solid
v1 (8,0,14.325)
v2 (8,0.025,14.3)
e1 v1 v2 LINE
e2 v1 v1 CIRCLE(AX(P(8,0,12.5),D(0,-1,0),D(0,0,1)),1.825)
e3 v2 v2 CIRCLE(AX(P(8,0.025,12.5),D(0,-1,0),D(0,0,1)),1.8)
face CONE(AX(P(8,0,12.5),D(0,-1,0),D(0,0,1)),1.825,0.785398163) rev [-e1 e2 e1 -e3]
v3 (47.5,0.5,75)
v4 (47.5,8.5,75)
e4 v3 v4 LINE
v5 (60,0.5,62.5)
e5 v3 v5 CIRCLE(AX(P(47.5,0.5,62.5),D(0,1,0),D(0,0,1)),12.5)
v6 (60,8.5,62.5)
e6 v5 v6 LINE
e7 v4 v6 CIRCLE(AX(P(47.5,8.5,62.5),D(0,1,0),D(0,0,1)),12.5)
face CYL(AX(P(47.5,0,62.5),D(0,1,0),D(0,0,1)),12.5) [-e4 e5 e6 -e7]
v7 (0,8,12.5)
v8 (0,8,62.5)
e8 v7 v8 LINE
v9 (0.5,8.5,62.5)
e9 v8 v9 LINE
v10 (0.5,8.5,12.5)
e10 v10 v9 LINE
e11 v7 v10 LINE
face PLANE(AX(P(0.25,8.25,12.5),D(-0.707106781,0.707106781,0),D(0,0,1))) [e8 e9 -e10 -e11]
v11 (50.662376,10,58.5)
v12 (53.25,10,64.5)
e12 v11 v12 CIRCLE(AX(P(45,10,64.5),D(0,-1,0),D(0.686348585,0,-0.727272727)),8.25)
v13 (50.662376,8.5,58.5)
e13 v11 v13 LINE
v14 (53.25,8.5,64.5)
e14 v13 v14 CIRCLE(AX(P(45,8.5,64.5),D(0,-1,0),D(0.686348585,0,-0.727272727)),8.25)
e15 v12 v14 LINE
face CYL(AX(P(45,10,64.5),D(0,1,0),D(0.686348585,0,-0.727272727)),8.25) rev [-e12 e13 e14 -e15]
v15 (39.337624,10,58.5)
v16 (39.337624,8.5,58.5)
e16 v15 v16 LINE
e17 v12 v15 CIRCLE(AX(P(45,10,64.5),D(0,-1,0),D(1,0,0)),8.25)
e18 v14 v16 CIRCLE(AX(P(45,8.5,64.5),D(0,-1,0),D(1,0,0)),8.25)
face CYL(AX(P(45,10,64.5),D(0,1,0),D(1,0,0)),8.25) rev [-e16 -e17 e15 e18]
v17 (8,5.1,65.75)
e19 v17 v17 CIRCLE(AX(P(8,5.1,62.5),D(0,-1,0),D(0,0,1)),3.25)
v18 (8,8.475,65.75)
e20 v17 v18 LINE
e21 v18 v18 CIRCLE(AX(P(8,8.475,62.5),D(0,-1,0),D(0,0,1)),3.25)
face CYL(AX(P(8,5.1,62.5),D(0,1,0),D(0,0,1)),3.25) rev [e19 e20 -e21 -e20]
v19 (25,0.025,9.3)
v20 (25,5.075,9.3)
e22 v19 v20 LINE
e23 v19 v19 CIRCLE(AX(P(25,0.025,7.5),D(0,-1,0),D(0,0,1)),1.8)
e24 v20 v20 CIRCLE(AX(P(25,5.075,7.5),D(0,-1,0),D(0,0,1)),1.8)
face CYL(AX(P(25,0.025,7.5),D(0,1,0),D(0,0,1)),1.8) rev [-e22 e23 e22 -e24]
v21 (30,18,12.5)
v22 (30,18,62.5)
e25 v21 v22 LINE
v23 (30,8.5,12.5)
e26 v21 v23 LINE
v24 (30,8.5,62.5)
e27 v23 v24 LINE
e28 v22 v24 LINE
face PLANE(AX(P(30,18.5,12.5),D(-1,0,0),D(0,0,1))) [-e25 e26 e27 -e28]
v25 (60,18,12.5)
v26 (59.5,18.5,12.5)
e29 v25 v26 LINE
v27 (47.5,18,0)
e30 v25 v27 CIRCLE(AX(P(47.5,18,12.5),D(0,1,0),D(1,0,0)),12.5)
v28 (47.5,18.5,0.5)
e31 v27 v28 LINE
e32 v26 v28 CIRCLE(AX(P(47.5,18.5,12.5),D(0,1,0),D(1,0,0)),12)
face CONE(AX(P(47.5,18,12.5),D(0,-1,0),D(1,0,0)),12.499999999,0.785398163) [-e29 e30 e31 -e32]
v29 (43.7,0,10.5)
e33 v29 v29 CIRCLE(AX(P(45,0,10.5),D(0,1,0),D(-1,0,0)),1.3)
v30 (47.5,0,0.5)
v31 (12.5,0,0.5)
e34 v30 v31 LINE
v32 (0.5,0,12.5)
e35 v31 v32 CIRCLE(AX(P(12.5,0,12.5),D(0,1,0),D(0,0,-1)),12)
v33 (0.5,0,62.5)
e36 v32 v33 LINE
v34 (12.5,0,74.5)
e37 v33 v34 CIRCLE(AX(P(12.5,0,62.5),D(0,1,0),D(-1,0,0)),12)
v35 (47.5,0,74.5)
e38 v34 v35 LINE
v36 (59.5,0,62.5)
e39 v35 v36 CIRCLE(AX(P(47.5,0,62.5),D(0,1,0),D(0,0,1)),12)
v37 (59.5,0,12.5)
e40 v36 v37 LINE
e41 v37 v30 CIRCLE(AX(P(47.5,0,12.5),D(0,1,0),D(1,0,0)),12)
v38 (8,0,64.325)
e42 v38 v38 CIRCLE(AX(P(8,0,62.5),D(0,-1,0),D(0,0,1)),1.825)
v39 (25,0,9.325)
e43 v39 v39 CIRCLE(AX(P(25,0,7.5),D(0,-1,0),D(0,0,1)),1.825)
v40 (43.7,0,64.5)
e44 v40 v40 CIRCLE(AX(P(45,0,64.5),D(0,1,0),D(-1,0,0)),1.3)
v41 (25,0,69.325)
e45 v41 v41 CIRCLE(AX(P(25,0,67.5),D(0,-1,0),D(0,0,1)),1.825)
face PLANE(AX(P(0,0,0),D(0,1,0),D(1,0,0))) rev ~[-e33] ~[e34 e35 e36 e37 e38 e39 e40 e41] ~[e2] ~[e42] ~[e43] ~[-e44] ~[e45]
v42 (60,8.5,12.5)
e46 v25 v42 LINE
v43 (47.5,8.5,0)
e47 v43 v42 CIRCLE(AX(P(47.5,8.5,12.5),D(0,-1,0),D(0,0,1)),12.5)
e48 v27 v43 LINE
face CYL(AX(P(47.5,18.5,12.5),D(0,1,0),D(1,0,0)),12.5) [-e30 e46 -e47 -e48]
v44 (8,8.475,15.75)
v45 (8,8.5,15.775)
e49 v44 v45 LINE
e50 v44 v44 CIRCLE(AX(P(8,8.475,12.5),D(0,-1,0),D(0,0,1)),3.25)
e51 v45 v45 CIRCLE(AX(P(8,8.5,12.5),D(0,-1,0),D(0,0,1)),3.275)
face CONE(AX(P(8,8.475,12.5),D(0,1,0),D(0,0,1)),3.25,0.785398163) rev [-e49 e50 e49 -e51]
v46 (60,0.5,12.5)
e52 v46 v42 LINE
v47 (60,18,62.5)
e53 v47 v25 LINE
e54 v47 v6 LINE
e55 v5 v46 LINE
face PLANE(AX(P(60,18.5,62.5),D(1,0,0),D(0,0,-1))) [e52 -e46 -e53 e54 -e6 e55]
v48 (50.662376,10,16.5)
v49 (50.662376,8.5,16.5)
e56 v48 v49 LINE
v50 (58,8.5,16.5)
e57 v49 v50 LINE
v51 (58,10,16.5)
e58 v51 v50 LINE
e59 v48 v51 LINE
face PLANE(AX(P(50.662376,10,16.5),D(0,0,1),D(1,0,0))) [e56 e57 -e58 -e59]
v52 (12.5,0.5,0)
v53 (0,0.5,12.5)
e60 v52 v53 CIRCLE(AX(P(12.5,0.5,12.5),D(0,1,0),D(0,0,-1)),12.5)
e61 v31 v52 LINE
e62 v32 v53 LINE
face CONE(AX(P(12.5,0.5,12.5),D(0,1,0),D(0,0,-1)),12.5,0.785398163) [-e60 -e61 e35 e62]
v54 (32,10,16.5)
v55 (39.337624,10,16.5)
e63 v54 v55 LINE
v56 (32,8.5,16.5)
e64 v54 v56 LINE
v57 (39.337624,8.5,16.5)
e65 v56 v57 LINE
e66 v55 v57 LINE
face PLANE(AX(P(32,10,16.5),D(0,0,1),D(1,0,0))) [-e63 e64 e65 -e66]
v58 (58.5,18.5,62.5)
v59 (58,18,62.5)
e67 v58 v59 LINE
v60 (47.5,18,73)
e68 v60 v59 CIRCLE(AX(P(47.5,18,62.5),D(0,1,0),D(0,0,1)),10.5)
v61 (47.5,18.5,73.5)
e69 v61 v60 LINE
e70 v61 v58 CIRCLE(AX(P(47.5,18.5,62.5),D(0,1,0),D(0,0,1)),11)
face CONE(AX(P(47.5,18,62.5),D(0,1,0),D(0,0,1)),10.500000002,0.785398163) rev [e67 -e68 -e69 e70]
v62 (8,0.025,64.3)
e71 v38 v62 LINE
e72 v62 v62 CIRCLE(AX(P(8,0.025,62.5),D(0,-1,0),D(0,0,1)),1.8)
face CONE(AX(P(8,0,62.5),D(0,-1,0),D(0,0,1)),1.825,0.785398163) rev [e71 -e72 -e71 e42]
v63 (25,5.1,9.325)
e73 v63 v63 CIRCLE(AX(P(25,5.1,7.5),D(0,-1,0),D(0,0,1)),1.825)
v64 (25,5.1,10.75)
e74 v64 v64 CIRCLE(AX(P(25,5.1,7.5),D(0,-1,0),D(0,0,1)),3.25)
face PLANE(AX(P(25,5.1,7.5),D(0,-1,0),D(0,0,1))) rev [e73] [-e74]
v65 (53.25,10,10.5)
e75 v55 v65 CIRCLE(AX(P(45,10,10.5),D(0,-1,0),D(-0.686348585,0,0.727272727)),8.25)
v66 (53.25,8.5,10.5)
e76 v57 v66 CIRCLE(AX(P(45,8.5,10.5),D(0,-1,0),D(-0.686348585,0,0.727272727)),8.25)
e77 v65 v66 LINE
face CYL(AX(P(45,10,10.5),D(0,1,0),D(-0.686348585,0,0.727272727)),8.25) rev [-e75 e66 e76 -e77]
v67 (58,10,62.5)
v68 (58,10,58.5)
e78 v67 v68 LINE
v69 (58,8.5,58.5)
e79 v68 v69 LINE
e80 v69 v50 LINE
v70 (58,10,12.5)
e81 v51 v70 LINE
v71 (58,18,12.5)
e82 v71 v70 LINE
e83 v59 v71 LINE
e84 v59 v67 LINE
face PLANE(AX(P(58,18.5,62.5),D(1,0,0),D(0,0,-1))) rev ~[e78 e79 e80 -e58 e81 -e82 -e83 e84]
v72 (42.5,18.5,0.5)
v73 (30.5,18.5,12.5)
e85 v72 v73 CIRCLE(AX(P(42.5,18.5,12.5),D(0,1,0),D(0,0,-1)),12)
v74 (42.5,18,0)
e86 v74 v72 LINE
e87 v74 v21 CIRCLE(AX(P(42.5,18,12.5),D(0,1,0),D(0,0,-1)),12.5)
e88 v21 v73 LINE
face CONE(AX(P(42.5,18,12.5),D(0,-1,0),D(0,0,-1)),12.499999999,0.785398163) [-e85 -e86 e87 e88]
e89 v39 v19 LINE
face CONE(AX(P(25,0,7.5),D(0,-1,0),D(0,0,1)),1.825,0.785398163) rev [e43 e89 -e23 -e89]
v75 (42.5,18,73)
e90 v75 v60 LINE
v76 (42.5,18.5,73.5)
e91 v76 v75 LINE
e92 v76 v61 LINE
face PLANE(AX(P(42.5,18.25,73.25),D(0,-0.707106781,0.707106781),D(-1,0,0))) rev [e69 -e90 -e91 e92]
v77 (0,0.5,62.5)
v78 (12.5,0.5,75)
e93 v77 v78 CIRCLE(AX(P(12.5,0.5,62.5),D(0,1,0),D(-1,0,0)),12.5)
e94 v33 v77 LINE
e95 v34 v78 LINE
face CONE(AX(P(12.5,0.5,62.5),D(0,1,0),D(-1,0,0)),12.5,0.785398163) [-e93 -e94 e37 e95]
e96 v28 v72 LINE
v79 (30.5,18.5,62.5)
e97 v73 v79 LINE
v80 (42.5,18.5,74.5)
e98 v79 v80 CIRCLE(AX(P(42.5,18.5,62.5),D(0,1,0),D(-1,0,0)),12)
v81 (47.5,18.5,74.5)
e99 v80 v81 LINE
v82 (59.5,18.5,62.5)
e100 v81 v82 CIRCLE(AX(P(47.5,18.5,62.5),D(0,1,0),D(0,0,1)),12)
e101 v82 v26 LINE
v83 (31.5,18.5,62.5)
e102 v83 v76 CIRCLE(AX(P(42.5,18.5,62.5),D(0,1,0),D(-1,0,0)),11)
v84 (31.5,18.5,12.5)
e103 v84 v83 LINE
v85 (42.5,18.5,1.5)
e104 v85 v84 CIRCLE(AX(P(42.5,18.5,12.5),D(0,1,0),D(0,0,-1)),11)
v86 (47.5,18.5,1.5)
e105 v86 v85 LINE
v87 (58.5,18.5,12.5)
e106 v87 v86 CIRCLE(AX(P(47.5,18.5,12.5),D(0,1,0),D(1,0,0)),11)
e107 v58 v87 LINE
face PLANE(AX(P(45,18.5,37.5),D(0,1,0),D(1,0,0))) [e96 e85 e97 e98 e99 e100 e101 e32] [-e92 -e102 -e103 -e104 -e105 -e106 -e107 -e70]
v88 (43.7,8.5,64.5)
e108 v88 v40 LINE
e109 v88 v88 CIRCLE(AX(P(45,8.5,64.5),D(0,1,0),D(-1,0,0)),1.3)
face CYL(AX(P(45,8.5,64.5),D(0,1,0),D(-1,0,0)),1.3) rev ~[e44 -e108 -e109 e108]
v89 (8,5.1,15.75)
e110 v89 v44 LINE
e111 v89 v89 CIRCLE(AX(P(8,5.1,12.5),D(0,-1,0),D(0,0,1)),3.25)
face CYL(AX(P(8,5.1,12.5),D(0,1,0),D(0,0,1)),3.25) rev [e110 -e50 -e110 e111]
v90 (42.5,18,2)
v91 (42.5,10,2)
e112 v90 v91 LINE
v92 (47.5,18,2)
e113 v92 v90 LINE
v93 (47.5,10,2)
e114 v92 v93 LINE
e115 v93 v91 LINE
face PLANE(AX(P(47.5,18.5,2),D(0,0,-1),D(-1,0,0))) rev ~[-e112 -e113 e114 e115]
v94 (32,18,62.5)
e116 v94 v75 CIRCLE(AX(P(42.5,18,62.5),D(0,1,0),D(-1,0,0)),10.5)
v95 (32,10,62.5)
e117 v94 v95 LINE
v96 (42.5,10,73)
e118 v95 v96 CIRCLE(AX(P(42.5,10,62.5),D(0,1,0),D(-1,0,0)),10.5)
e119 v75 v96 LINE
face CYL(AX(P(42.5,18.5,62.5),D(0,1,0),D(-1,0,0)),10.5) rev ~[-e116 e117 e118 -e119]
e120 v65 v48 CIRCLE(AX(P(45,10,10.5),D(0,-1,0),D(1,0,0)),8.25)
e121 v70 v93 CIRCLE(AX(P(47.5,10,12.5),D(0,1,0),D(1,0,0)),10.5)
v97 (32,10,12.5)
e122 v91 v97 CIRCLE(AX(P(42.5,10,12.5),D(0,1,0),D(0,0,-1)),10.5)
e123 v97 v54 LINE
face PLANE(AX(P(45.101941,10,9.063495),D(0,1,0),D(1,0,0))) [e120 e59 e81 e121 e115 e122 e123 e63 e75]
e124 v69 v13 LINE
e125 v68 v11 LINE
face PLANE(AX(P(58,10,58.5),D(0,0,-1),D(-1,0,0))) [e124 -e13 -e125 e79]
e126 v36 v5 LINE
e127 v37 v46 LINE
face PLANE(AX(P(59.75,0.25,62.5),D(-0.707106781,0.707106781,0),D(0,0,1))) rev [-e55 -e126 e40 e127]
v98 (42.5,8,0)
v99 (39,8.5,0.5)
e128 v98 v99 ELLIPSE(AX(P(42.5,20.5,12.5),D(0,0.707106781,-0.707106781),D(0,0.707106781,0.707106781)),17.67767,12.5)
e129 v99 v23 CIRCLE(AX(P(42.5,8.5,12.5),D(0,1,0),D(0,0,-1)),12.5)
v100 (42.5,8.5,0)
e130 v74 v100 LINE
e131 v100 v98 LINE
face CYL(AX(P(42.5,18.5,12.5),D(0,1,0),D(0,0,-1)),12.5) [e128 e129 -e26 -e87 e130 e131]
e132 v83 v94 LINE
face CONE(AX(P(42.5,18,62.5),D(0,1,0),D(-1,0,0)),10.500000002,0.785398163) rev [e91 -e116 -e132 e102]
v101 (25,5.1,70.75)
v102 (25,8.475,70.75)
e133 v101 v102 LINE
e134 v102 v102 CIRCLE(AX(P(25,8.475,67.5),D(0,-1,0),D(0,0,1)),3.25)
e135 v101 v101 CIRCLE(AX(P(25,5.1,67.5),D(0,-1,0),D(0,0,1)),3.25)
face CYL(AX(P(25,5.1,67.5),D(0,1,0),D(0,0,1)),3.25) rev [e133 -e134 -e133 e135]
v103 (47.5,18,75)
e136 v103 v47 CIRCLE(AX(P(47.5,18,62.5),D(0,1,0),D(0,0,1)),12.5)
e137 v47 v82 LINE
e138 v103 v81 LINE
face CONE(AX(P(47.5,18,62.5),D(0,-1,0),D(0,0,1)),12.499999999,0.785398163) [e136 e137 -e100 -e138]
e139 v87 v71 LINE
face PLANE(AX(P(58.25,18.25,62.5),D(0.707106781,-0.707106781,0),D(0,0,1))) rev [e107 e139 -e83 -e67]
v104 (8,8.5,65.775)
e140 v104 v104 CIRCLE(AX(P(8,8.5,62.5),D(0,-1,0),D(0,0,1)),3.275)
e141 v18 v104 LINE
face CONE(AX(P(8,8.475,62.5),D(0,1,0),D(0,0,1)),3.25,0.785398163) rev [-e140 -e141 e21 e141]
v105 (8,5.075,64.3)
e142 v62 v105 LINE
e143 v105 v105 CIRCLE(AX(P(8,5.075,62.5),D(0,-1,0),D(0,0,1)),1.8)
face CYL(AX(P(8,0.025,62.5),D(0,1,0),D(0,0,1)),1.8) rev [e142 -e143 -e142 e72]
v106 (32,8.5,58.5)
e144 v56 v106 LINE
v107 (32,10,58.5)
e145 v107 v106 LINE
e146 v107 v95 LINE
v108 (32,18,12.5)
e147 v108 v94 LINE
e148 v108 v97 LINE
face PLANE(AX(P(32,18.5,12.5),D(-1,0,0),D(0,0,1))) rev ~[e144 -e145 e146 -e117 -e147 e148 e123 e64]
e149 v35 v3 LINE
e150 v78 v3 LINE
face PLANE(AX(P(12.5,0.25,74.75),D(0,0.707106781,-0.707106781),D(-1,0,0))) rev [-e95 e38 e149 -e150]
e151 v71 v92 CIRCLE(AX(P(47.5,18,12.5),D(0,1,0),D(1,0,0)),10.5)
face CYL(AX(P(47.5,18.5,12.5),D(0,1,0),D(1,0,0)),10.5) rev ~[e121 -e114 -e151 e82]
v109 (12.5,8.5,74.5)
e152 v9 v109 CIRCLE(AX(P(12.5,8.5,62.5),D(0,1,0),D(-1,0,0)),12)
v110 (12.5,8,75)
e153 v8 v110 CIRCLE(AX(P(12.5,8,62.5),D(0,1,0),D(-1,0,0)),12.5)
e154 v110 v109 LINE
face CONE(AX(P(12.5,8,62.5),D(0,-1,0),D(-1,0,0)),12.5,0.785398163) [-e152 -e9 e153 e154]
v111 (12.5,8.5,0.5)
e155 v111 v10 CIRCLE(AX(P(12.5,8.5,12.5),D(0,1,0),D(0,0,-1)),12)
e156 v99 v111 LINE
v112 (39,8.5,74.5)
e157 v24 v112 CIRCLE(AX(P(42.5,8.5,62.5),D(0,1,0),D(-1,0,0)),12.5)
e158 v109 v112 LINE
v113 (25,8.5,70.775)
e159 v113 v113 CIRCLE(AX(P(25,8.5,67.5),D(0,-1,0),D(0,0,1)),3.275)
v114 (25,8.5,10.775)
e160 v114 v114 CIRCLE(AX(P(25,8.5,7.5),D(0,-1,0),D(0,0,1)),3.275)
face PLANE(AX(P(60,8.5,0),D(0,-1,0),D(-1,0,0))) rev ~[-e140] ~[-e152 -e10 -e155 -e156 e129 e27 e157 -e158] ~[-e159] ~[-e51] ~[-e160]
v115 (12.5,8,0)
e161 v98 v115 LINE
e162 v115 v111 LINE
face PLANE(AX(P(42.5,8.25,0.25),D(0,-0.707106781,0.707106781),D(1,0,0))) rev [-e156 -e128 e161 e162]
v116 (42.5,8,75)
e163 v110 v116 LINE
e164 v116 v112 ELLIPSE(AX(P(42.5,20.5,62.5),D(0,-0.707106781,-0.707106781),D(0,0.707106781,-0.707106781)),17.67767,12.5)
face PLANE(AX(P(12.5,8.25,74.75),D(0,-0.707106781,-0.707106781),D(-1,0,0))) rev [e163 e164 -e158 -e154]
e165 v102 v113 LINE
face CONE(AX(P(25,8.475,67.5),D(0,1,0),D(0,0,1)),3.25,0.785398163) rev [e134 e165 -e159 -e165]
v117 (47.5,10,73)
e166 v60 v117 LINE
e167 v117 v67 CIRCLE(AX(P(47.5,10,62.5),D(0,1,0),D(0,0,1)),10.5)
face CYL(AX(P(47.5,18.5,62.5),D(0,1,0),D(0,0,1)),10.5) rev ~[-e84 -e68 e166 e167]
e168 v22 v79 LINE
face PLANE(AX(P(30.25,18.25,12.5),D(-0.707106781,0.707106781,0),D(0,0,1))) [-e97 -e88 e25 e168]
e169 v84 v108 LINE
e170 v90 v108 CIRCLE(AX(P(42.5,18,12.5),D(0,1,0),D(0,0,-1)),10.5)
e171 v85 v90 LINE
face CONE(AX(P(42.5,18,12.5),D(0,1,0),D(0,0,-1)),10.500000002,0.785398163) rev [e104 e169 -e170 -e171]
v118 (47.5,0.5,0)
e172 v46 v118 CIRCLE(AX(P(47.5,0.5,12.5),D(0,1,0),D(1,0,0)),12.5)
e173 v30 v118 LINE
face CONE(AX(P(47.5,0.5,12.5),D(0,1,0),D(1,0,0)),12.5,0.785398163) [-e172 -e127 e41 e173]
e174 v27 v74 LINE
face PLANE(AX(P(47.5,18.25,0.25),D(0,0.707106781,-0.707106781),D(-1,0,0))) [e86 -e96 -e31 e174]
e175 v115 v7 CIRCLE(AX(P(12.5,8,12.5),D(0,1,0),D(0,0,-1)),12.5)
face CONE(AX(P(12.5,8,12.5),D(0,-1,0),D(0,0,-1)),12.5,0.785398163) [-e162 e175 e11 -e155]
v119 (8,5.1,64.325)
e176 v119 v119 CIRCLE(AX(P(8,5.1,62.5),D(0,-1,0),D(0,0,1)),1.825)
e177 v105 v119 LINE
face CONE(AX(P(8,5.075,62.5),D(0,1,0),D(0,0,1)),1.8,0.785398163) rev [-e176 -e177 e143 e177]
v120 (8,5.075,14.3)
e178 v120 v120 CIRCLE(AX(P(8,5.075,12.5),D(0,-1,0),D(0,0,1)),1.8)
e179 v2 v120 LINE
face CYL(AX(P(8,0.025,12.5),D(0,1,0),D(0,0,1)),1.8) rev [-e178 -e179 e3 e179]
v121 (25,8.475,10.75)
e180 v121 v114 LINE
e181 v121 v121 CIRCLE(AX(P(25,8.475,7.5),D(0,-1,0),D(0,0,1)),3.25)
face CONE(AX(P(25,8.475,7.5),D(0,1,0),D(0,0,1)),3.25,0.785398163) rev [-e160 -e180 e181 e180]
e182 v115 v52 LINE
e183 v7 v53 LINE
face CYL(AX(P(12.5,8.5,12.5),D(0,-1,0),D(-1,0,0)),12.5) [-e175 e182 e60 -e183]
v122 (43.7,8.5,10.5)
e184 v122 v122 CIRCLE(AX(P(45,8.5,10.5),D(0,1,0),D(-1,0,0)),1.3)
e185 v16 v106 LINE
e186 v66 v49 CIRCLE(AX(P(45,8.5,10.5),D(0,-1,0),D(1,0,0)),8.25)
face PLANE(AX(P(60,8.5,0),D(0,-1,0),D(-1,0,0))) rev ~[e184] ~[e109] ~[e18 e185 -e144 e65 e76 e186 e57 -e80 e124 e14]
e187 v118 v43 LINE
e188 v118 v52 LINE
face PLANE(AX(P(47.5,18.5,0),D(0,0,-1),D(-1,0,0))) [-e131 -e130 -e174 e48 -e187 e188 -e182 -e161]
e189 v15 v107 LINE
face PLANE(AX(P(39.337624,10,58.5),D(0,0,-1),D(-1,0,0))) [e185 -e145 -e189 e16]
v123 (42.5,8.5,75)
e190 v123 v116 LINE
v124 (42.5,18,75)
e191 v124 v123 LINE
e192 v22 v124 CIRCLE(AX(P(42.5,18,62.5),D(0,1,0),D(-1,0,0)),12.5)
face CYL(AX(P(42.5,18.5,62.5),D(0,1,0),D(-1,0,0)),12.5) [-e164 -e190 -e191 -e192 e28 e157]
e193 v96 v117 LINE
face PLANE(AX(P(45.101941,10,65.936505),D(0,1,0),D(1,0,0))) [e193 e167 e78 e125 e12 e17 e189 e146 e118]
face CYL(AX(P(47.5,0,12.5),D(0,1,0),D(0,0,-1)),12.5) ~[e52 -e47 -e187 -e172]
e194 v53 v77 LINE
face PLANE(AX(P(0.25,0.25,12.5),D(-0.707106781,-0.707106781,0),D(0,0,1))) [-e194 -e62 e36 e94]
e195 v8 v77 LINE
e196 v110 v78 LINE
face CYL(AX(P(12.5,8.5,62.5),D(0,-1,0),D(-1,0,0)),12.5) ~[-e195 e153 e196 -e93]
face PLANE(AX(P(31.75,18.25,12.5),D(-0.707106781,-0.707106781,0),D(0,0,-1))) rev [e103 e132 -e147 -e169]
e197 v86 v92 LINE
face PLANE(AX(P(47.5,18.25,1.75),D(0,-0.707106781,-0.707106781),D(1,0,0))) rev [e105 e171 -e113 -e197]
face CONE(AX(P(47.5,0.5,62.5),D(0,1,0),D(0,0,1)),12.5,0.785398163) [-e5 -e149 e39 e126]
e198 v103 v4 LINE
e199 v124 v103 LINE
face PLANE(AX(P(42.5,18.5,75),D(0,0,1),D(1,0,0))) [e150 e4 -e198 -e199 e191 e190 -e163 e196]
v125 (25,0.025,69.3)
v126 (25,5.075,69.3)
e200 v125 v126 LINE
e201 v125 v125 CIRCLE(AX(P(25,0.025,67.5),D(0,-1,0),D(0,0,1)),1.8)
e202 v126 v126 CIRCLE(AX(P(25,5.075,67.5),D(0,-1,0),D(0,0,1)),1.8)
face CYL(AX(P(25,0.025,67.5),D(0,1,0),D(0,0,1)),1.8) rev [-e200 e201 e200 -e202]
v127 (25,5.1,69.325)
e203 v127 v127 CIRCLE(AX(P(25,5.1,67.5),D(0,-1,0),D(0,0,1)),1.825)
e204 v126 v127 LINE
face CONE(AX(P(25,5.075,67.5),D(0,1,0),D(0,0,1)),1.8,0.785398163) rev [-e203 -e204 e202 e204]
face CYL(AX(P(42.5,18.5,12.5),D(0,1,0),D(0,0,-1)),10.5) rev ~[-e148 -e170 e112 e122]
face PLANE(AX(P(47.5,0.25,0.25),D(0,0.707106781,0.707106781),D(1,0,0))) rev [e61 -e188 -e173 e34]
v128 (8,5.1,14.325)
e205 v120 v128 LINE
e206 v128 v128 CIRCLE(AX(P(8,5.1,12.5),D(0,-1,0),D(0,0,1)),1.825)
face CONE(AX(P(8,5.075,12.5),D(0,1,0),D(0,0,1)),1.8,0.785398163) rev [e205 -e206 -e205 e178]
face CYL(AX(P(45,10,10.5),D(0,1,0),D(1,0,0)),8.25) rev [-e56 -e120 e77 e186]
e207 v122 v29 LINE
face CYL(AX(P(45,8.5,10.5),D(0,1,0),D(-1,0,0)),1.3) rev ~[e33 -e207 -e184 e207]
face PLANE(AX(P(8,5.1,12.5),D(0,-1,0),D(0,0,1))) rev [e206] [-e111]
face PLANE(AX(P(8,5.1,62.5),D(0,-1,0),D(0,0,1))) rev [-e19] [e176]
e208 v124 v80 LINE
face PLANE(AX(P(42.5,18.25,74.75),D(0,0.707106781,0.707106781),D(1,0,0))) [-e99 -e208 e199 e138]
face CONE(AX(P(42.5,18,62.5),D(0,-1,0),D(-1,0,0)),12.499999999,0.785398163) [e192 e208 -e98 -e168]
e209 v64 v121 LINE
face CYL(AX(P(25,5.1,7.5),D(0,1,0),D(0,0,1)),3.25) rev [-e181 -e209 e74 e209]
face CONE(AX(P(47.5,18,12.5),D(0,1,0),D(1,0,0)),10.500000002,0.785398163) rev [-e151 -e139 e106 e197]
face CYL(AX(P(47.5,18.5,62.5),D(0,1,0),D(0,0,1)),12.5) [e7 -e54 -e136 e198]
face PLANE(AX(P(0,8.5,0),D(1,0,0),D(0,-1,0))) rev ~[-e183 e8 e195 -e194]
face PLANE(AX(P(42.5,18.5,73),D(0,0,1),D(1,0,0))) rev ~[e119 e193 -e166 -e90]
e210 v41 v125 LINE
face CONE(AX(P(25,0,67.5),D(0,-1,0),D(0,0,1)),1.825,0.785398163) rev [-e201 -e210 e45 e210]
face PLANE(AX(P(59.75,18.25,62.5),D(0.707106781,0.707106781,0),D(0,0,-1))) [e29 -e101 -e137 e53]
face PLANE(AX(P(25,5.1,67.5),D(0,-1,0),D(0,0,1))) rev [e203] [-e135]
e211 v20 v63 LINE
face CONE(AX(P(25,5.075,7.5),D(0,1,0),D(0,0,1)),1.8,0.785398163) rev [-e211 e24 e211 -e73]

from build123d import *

# Parameters (mm, degrees)
BOSS_EXTRUDE1_DEPTH                          = 75
SKETCH2_R                                    = 1.3
CUT_EXTRUDE1_DEPTH                           = 34
CBORE_FOR_M3_HEX_SOCKET_HEAD_CAP_SCR_2_COUNT = 2
CBORE_FOR_M3_HEX_SOCKET_HEAD_CAP_SCR_2_PITCH = 60
CBORE_FOR_M3_HEX_SOCKET_HEAD_CAP_SCR_3_COUNT = 2
CBORE_FOR_M3_HEX_SOCKET_HEAD_CAP_SCR_3_PITCH = 57.567351858
CBORE_FOR_M3_HEX_SOCKET_HEAD_CAP_SCR_4_COUNT = 2
CBORE_FOR_M3_HEX_SOCKET_HEAD_CAP_SCR_4_PITCH = 17.720045147
FILLET2_R                                    = 12.5
BOSS_EXTRUDE2_START                          = 10
BOSS_EXTRUDE2_DEPTH                          = 10
CHAMFER3_SIZE                                = 0.5
BOSS_EXTRUDE3_START                          = 1.5
BOSS_EXTRUDE3_DEPTH                          = 1.5


with BuildPart() as part:
    # Sketch1 → Boss-Extrude1 (new body)
    with BuildSketch(Plane.XY):
        Polygon((0, 0), (60, 0), (60, 8.5), (30, 8.5), (0, 8.5), align=None)
    extrude(amount=BOSS_EXTRUDE1_DEPTH)

    # Sketch2 → Cut-Extrude1 (cut)
    with BuildSketch(Plane(origin=(0, 8.5, 0), x_dir=(1, 0, 0), z_dir=(0, 1, 0))):
        with Locations(Location((45, -64.5, 0), (0, 0, 180))):
            Circle(SKETCH2_R)
        with Locations(Location((45, -10.5, 0), (0, 0, 180))):
            Circle(SKETCH2_R)
    extrude(amount=-CUT_EXTRUDE1_DEPTH, mode=Mode.SUBTRACT)

    # Sketch4 → CBORE for M3 Hex Socket Head Cap Screw1 (revolve, cut)
    with BuildSketch(Plane(origin=(25, 8.5, 67.5), x_dir=(0, 0, 1), z_dir=(1, 0, 0))):
        Polygon((0, 0), (0, 8.5), (1.825, 8.5), (1.8, 8.475), (1.8, 3.425), (1.825, 3.4), (3.25, 3.4), (3.25, 0.025), (3.275, 0), align=None)
    cbore_for_m3_hex_socket_head_cap_screw1 = revolve(axis=Axis((25, 14.85, 67.5), (0, -1, 0)), mode=Mode.SUBTRACT)

    # CBORE for M3 Hex Socket Head Cap Scr 2: CBORE for M3 Hex Socket Head Cap Screw1 ×2
    with Locations(*[(0, 0, -i * CBORE_FOR_M3_HEX_SOCKET_HEAD_CAP_SCR_2_PITCH) for i in range(1, CBORE_FOR_M3_HEX_SOCKET_HEAD_CAP_SCR_2_COUNT)]):
        add(cbore_for_m3_hex_socket_head_cap_screw1, mode=Mode.SUBTRACT)

    # CBORE for M3 Hex Socket Head Cap Scr 3: CBORE for M3 Hex Socket Head Cap Screw1 ×2
    with Locations(*[Vector(-0.2953062708492605, 0, -0.9554026409829016) * (i * CBORE_FOR_M3_HEX_SOCKET_HEAD_CAP_SCR_3_PITCH) for i in range(1, CBORE_FOR_M3_HEX_SOCKET_HEAD_CAP_SCR_3_COUNT)]):
        add(cbore_for_m3_hex_socket_head_cap_screw1, mode=Mode.SUBTRACT)

    # CBORE for M3 Hex Socket Head Cap Scr 4: CBORE for M3 Hex Socket Head Cap Screw1 ×2
    with Locations(*[Vector(-0.9593655015712707, 0, -0.28216632399155017) * (i * CBORE_FOR_M3_HEX_SOCKET_HEAD_CAP_SCR_4_PITCH) for i in range(1, CBORE_FOR_M3_HEX_SOCKET_HEAD_CAP_SCR_4_COUNT)]):
        add(cbore_for_m3_hex_socket_head_cap_screw1, mode=Mode.SUBTRACT)

    # Fillet2
    fillet2_edges = [part.edges().sort_by_distance(p)[0] for p in [
        (60, 4.25, 75),
        (0, 4.25, 75),
        (60, 4.25, 0),
        (0, 4.25, 0),
    ]]
    fillet(fillet2_edges, radius=FILLET2_R)

    # Sketch5 → Boss-Extrude2 (add)
    with BuildSketch(Plane(origin=(0, 8.5, 0), x_dir=(1, 0, 0), z_dir=(0, 1, 0)).offset(BOSS_EXTRUDE2_START)):
        with BuildLine():
            Line((47.5, 0), (42.5, 0))
            ThreePointArc((42.5, 0), (33.661165235, -3.661165235), (30, -12.5))
            Line((30, -12.5), (30, -62.5))
            ThreePointArc((30, -62.5), (33.661165235, -71.338834765), (42.5, -75))
            Line((42.5, -75), (47.5, -75))
            ThreePointArc((47.5, -75), (56.338834765, -71.338834765), (60, -62.5))
            Line((60, -62.5), (60, -12.5))
            ThreePointArc((60, -12.5), (56.338834765, -3.661165235), (47.5, 0))
        make_face()
        with BuildLine():
            Line((47.5, -2), (42.5, -2))
            ThreePointArc((42.5, -2), (35.075378798, -5.075378798), (32, -12.5))
            Line((32, -12.5), (32, -62.5))
            ThreePointArc((32, -62.5), (35.075378798, -69.924621202), (42.5, -73))
            Line((42.5, -73), (47.5, -73))
            ThreePointArc((47.5, -73), (54.924621202, -69.924621202), (58, -62.5))
            Line((58, -62.5), (58, -12.5))
            ThreePointArc((58, -12.5), (54.924621202, -5.075378798), (47.5, -2))
        make_face(mode=Mode.SUBTRACT)
    extrude(amount=-BOSS_EXTRUDE2_DEPTH)

    # Chamfer3
    chamfer3_edges = [part.edges().sort_by_distance(p)[0] for p in [
        (27.5, 8.5, 0),
        (27.5, 8.5, 75),
        (33.661165235, 18.5, 3.661165235),
        (30, 18.5, 37.5),
        (33.661165235, 18.5, 71.338834765),
        (45, 18.5, 75),
        (56.338834765, 18.5, 71.338834765),
        (60, 18.5, 37.5),
        (56.338834765, 18.5, 3.661165235),
        (45, 18.5, 0),
        (35.075378798, 18.5, 69.924621202),
        (45, 18.5, 73),
        (54.924621202, 18.5, 69.924621202),
        (58, 18.5, 37.5),
        (54.924621202, 18.5, 5.075378798),
        (45, 18.5, 2),
        (35.075378798, 18.5, 5.075378798),
        (32, 18.5, 37.5),
        (0, 0, 37.5),
        (0, 8.5, 37.5),
        (30, 0, 0),
        (60, 0, 37.5),
        (30, 0, 75),
        (56.338834765, 0, 71.338834765),
        (56.338834765, 0, 3.661165235),
        (3.661165235, 0, 71.338834765),
        (3.661165235, 0, 3.661165235),
        (3.661165235, 8.5, 71.338834765),
        (3.661165235, 8.5, 3.661165235),
    ]]
    chamfer(chamfer3_edges, length=CHAMFER3_SIZE)

    # Sketch6 → Boss-Extrude3 (add)
    with BuildSketch(Plane(origin=(0, 8.5, 0), x_dir=(1, 0, 0), z_dir=(0, 1, 0)).offset(BOSS_EXTRUDE3_START)):
        with BuildLine():
            Line((50.662375826, -16.5), (58, -16.5))
            Line((58, -16.5), (58, -12.5))
            ThreePointArc((58, -12.5), (54.924621202, -5.075378798), (47.5, -2))
            Line((47.5, -2), (42.5, -2))
            ThreePointArc((42.5, -2), (35.075378798, -5.075378798), (32, -12.5))
            Line((32, -12.5), (32, -16.5))
            Line((32, -16.5), (39.337624174, -16.5))
            ThreePointArc((39.337624174, -16.5), (41.732898882, -2.924476897), (53.25, -10.5))
            ThreePointArc((53.25, -10.5), (52.575523103, -13.767101118), (50.662375826, -16.5))
        make_face()
        with BuildLine():
            Line((58, -62.5), (58, -58.5))
            Line((58, -58.5), (50.662375826, -58.5))
            ThreePointArc((50.662375826, -58.5), (52.575523103, -61.232898882), (53.25, -64.5))
            ThreePointArc((53.25, -64.5), (41.732898882, -72.075523103), (39.337624174, -58.5))
            Line((39.337624174, -58.5), (32, -58.5))
            Line((32, -58.5), (32, -62.5))
            ThreePointArc((32, -62.5), (35.075378798, -69.924621202), (42.5, -73))
            Line((42.5, -73), (47.5, -73))
            ThreePointArc((47.5, -73), (54.924621202, -69.924621202), (58, -62.5))
        make_face()
    extrude(amount=-BOSS_EXTRUDE3_DEPTH)


solid = part.part
